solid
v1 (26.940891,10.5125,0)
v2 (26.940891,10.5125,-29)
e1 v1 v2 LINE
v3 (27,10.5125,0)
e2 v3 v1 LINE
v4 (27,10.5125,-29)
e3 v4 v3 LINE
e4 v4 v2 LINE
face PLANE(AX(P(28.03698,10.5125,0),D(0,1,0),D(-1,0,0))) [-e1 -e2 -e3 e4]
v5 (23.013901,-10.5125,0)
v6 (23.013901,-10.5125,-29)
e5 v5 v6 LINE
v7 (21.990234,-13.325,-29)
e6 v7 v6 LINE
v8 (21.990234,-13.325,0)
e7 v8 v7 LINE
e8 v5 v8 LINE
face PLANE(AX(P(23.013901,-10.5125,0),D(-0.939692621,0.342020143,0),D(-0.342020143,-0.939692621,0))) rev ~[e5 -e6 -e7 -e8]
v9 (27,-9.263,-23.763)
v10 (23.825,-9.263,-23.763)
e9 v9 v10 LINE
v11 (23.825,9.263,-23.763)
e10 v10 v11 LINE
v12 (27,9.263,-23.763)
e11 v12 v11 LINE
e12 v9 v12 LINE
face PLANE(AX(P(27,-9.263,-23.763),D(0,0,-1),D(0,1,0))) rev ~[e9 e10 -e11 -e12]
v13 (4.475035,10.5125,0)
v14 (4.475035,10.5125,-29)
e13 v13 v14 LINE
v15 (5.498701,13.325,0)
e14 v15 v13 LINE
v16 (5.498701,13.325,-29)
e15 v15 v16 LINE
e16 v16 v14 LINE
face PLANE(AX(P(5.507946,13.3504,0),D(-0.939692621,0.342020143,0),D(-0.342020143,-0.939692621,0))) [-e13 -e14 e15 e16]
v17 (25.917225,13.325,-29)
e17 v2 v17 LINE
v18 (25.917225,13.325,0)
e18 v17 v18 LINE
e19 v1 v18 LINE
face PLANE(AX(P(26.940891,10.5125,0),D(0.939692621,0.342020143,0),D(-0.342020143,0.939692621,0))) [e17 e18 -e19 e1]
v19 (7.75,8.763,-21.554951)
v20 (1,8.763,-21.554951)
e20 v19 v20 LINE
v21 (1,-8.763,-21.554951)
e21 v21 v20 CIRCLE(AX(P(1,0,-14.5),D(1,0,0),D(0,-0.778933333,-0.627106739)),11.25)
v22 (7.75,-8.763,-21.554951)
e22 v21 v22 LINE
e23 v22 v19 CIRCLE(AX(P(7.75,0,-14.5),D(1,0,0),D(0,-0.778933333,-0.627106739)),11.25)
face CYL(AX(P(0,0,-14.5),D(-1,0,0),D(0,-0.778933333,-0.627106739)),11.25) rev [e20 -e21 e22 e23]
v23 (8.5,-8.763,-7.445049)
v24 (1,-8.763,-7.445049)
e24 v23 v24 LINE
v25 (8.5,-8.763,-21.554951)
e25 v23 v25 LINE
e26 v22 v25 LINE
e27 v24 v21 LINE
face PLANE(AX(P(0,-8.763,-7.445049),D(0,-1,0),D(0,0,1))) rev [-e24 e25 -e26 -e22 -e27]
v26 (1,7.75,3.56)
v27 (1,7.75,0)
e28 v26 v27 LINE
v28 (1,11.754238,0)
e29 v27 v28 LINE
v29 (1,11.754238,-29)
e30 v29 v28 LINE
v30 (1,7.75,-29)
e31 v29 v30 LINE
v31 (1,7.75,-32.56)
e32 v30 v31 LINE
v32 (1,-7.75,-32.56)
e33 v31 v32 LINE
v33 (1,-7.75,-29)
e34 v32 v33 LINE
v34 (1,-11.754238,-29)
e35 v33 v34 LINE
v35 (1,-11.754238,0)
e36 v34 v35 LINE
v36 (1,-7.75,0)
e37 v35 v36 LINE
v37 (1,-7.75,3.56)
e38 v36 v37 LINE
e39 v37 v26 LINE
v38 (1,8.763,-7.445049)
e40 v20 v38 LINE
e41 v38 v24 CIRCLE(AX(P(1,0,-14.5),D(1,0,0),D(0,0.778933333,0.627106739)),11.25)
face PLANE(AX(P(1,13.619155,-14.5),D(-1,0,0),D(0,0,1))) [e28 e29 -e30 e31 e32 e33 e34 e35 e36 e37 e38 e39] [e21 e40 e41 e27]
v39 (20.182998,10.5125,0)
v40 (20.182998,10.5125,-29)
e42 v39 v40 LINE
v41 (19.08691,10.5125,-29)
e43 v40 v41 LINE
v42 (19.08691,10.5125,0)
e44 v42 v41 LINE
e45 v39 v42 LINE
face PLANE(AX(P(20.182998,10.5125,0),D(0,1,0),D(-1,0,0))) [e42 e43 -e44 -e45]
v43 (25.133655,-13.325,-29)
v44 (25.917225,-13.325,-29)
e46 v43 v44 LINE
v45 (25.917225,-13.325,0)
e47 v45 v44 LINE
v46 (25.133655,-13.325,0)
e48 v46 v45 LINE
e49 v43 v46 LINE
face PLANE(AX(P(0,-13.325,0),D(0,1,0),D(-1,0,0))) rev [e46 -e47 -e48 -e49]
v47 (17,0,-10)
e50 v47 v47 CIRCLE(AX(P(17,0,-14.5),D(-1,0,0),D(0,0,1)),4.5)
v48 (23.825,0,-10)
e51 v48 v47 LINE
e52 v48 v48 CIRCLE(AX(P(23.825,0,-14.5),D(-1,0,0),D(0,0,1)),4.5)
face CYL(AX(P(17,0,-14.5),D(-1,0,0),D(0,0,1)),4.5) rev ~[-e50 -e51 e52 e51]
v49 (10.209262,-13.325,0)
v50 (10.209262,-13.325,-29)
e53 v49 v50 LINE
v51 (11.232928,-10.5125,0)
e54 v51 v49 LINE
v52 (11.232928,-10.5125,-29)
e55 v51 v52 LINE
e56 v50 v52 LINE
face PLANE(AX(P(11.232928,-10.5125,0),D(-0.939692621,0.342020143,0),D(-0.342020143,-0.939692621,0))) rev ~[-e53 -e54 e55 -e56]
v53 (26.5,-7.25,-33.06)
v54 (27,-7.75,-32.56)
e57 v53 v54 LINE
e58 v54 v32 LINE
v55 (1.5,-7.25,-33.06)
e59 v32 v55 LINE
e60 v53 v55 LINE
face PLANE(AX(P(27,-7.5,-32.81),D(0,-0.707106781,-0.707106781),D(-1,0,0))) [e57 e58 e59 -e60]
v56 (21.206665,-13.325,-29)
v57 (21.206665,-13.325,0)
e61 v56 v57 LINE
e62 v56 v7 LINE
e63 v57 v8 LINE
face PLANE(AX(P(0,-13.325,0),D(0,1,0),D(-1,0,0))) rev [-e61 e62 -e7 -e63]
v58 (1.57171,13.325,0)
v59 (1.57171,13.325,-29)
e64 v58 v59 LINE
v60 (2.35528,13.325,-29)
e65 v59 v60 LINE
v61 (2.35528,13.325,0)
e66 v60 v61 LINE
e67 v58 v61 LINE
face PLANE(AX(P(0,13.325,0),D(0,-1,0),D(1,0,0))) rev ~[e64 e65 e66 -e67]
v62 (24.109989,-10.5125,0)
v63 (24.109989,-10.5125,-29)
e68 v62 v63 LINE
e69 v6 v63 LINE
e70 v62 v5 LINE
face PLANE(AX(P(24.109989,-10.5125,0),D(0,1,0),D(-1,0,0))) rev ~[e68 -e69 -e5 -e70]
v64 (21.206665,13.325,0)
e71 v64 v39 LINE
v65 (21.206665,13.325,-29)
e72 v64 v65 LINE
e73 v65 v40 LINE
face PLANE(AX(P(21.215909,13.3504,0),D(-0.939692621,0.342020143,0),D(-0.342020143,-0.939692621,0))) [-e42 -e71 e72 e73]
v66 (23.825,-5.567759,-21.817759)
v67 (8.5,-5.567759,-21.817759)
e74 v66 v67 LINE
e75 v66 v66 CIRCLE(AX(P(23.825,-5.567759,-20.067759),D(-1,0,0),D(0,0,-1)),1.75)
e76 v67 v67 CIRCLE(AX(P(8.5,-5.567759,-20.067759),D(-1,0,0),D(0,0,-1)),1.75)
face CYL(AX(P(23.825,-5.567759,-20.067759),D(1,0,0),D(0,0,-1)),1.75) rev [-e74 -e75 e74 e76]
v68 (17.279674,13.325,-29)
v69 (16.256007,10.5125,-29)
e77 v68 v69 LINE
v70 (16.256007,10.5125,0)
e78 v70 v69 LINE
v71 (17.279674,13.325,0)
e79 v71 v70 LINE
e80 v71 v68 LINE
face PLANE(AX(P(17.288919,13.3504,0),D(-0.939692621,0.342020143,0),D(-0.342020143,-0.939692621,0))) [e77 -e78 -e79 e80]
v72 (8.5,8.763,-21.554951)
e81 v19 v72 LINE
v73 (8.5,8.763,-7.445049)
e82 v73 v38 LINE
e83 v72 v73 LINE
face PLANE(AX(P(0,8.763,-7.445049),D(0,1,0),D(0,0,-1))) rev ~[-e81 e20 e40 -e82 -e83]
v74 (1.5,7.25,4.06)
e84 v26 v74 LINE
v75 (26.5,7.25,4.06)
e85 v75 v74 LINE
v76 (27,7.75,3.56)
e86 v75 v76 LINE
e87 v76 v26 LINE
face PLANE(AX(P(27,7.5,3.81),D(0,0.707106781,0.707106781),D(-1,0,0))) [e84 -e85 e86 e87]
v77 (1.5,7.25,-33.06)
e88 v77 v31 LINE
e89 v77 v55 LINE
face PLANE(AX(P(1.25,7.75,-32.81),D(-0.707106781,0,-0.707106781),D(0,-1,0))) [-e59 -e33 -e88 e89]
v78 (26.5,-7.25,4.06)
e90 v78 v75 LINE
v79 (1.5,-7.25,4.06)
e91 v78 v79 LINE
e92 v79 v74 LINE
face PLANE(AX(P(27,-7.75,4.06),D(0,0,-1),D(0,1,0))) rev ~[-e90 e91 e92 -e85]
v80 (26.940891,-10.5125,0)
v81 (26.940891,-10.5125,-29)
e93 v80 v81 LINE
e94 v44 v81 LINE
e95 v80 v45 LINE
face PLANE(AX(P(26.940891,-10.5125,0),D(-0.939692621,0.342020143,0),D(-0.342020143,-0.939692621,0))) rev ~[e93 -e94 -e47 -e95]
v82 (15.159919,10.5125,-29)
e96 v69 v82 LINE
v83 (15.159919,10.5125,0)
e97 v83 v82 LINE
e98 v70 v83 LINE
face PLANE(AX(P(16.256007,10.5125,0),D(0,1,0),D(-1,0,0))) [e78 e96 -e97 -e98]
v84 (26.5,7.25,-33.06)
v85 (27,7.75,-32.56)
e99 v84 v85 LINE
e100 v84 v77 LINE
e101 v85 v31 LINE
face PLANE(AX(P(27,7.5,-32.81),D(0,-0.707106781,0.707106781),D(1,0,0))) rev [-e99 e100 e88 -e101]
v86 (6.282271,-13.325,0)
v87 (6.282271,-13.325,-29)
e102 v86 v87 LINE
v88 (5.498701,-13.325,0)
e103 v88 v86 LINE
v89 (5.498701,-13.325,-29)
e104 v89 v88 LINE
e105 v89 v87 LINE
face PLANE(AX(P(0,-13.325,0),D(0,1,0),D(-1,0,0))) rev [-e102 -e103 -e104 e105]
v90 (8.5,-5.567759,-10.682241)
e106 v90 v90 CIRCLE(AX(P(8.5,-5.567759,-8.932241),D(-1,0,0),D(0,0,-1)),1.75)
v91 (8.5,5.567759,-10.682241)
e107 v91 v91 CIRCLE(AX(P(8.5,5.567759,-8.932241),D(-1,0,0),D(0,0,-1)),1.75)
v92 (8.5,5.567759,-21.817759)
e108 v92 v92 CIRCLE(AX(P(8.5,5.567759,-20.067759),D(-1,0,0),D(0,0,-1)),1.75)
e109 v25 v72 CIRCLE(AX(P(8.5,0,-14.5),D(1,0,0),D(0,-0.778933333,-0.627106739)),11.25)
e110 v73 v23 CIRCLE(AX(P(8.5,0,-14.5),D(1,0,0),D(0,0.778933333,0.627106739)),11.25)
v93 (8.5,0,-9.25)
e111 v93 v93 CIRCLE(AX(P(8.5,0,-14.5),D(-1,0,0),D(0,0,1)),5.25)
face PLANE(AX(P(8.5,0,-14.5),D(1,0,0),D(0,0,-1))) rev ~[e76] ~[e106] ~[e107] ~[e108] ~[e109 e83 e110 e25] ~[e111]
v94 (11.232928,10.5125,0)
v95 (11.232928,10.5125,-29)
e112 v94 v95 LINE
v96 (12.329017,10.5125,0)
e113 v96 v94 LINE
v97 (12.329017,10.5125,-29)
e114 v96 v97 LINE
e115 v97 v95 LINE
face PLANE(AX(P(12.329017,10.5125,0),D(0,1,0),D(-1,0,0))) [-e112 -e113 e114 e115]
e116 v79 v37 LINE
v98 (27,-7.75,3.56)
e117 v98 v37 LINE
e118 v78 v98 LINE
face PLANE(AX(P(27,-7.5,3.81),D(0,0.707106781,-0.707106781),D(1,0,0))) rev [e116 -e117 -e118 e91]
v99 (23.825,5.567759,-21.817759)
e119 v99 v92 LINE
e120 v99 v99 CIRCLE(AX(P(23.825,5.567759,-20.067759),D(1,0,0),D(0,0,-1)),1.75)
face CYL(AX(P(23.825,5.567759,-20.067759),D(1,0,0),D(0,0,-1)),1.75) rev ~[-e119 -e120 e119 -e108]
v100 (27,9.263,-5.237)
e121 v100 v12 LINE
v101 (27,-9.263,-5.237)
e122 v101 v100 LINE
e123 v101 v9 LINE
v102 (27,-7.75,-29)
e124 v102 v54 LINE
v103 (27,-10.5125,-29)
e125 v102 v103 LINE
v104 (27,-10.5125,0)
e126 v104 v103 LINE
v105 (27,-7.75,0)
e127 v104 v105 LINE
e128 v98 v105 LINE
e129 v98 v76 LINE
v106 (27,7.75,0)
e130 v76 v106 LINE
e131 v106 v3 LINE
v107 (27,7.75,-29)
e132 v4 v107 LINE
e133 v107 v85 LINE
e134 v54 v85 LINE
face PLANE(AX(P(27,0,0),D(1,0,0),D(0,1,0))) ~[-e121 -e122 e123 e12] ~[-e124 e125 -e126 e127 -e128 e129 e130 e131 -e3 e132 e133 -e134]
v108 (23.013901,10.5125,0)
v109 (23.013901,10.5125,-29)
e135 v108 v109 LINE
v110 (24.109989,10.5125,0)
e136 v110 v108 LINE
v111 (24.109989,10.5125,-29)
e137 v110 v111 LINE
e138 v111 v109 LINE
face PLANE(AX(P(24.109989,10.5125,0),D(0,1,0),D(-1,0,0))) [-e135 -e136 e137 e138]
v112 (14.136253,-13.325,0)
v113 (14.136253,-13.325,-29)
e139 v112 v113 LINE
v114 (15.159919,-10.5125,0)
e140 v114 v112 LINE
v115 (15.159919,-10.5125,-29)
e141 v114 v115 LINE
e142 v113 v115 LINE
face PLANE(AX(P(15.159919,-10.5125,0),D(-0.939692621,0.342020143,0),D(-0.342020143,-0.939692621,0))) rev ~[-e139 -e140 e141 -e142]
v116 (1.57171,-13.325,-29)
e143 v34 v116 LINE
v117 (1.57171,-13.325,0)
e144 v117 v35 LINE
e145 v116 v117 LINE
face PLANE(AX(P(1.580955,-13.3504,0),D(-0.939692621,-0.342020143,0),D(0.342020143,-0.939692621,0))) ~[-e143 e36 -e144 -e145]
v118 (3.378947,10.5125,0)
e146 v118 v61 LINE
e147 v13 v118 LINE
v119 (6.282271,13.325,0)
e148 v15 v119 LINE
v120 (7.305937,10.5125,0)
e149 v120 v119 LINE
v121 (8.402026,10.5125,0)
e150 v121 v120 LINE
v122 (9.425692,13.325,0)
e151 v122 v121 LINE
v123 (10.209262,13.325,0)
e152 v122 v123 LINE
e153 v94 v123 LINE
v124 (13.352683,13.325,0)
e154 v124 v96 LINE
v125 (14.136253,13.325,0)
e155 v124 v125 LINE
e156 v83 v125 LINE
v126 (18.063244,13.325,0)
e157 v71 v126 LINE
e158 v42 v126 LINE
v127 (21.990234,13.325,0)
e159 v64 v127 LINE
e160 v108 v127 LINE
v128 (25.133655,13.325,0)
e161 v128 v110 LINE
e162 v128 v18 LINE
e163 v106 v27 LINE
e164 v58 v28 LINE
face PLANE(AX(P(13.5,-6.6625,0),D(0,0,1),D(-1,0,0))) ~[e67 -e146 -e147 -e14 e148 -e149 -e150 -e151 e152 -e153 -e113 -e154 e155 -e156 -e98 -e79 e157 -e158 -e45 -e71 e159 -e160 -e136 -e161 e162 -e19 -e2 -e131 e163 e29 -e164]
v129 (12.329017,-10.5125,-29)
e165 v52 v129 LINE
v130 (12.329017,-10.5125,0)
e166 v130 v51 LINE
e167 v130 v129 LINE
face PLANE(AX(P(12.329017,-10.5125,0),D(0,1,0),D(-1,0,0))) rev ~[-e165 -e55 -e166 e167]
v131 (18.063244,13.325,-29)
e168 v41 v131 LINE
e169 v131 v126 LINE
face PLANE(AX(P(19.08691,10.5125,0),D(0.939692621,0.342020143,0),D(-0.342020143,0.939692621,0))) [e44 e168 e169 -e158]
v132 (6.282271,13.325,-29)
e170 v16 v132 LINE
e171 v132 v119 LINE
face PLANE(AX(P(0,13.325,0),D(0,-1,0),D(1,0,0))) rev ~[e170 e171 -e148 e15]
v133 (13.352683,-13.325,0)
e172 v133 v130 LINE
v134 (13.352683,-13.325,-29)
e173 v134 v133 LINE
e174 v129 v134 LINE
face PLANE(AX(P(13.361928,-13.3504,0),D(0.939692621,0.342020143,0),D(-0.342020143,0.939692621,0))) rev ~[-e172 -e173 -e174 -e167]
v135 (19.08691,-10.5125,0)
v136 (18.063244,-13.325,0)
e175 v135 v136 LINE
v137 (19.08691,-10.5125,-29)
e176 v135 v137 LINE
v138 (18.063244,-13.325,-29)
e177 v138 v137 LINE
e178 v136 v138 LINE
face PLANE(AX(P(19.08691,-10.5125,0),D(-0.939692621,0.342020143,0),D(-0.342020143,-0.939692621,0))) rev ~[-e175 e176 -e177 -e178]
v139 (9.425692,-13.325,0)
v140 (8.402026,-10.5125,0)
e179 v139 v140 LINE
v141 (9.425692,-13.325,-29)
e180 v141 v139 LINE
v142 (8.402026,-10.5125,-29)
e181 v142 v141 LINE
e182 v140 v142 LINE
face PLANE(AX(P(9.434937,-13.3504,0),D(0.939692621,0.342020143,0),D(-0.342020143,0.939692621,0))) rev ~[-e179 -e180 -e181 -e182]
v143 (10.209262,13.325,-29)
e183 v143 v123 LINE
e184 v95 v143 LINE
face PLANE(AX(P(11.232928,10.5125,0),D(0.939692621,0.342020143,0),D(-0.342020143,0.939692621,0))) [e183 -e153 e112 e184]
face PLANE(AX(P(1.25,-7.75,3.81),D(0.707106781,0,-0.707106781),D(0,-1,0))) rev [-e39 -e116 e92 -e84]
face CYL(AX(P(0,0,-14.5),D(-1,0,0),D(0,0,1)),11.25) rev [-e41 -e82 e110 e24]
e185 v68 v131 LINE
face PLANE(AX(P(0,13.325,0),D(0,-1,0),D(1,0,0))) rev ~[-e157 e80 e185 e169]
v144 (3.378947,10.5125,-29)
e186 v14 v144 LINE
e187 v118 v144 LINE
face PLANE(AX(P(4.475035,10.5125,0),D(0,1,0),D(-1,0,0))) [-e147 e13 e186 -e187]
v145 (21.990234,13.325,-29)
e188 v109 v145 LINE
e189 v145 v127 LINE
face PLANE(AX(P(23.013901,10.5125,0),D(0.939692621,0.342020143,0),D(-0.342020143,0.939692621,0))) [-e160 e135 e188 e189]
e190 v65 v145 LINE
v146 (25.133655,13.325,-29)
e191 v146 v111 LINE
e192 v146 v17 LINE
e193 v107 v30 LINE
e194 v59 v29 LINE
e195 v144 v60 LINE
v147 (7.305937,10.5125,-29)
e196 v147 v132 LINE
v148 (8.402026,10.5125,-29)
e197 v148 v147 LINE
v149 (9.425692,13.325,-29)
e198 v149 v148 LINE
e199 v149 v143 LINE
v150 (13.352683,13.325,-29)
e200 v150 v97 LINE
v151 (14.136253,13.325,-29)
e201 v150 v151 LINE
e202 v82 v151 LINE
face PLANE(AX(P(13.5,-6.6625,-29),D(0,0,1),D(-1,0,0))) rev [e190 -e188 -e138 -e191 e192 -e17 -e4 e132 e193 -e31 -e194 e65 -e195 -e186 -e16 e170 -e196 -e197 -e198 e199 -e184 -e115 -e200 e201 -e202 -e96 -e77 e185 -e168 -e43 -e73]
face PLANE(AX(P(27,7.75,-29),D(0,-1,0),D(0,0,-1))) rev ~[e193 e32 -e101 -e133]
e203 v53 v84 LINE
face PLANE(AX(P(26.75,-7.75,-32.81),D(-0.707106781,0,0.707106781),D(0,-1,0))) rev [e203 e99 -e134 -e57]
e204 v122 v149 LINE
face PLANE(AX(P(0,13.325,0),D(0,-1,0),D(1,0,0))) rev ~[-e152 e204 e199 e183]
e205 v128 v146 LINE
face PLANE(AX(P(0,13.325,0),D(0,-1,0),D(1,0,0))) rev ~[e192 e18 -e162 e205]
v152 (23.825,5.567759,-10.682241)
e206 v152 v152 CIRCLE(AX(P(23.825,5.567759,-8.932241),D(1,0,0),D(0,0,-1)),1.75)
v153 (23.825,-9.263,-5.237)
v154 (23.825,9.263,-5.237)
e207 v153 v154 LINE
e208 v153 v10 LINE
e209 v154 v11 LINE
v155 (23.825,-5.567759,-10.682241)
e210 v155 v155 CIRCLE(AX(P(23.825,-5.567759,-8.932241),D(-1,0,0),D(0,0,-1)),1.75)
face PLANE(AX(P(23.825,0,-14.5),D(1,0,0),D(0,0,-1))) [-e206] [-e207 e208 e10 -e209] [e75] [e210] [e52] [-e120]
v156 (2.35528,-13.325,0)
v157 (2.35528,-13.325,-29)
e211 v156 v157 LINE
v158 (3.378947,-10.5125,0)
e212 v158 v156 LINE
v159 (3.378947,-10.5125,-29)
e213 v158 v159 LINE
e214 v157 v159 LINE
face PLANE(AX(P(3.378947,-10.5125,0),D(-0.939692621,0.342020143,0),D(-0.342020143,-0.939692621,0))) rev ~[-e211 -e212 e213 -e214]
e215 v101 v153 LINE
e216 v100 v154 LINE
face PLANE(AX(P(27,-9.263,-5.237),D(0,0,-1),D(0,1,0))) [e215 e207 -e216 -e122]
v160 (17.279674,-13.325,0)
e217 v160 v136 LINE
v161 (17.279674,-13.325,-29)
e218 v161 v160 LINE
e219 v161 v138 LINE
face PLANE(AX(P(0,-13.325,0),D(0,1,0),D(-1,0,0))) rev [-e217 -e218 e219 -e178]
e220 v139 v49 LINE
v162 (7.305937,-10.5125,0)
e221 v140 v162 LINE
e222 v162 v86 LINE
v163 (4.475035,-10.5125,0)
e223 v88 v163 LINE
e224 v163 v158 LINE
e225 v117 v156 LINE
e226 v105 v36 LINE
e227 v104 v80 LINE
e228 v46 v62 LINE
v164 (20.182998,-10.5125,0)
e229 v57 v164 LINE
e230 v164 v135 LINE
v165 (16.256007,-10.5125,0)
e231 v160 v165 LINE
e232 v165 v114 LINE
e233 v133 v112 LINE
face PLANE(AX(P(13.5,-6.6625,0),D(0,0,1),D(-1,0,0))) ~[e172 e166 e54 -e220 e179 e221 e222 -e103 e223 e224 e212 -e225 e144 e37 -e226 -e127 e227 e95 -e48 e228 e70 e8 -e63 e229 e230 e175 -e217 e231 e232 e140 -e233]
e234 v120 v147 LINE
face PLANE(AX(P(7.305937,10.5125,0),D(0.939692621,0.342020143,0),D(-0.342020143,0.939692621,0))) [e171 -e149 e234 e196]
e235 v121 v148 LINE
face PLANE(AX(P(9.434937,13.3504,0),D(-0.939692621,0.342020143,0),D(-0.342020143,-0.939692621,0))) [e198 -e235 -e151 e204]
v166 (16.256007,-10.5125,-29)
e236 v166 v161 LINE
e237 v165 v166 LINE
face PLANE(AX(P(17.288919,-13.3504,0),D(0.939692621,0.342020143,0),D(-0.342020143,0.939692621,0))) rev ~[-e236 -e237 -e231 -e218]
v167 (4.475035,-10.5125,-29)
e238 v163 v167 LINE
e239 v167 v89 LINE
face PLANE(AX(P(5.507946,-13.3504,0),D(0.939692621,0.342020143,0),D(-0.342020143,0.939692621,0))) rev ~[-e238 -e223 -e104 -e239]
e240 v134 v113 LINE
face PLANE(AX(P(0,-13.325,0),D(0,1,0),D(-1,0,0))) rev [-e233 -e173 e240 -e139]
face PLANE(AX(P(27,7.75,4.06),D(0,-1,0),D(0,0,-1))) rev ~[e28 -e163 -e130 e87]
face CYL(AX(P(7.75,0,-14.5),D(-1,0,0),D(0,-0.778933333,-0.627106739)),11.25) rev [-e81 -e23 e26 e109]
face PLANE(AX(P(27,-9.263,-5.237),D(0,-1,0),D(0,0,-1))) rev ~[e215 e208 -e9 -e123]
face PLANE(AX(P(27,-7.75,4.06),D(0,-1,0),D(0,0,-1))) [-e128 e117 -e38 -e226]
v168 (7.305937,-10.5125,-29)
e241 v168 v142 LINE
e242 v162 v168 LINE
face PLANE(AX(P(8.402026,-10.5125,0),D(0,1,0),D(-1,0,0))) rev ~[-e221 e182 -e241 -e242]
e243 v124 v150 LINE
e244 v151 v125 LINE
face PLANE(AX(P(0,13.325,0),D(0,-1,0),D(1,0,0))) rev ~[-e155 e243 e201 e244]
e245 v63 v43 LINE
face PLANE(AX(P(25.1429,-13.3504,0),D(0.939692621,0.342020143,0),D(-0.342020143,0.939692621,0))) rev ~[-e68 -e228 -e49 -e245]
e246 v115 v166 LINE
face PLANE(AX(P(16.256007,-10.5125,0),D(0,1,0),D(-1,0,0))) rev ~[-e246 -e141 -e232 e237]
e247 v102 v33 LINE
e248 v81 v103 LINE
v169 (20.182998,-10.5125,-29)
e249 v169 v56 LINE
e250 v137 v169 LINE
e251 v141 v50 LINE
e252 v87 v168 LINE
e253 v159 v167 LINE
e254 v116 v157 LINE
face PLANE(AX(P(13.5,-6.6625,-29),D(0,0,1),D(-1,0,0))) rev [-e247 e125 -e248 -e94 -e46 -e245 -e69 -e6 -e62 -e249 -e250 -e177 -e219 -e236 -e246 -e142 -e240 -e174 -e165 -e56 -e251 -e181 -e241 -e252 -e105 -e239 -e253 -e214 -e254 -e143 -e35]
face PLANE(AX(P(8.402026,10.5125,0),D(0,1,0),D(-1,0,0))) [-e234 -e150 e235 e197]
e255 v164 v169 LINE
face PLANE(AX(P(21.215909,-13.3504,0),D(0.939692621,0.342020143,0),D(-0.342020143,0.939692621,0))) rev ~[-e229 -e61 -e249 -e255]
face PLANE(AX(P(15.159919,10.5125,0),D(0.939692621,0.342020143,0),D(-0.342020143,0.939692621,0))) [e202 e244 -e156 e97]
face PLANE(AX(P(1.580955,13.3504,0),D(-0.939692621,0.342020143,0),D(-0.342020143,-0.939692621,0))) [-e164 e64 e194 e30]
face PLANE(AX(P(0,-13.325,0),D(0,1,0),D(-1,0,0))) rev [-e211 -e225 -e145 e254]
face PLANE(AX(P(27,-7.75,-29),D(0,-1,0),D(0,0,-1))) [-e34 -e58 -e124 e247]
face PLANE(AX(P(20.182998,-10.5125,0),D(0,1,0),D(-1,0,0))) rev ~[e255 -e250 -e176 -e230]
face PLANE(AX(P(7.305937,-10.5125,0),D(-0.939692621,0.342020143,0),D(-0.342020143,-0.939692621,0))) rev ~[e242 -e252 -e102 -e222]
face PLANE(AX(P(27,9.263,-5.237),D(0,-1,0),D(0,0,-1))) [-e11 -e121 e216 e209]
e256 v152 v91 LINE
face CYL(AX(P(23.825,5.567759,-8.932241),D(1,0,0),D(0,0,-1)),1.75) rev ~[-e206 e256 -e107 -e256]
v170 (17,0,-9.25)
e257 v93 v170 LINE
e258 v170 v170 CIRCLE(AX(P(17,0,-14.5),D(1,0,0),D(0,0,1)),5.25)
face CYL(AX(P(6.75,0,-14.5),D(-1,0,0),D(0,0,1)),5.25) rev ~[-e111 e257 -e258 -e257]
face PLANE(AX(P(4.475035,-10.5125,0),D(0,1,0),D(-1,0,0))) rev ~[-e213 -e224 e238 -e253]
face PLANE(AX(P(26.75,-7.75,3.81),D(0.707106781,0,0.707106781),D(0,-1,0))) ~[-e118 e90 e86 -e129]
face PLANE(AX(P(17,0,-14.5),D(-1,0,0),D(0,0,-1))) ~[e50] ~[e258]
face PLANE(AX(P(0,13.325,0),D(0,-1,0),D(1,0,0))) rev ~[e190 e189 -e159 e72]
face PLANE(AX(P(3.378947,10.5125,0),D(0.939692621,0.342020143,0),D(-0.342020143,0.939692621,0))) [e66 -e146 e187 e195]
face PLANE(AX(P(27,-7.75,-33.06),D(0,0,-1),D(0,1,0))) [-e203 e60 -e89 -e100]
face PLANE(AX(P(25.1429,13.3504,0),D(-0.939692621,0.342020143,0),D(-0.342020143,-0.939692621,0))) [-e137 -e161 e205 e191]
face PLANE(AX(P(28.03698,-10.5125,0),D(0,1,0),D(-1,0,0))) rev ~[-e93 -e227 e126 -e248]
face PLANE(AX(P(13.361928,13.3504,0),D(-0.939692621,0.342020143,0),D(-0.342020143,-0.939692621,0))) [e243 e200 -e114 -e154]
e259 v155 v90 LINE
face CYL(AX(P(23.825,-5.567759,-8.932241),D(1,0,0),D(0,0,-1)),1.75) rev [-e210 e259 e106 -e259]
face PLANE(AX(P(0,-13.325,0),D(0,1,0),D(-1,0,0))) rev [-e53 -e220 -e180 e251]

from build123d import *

# Parameters (mm, degrees)
BLANKSKE_W           = 27
BLANKSKE_H           = 13.325
BLANK_DEPTH          = 29
TOOTHCUTSIM_DEPTH    = 42.803775248
TEETHCUTS_COUNT      = 8
TEETHCUTS_PITCH      = 3.926990813
CUT_EXTRUDE1_DEPTH   = 6.75
SKETCH3_R            = 5.25
CUT_EXTRUDE2_DEPTH   = 10.25
SKETCH4_R            = 4.5
CUT_EXTRUDE3_DEPTH   = 37.16013862
SKETCH5_R            = 2.5
CUT_EXTRUDE4_DEPTH   = 3.175
SKETCH6_R            = 1.75
CUT_EXTRUDE5_DEPTH   = 40.826953813
MIRROR1_COPY_1_DEPTH = 42.803775248
MIRROR1_COPY_2_DEPTH = 42.803775248
MIRROR1_COPY_3_DEPTH = 42.803775248
MIRROR1_COPY_4_DEPTH = 42.803775248
MIRROR1_COPY_5_DEPTH = 42.803775248
MIRROR1_COPY_6_DEPTH = 42.803775248
MIRROR1_COPY_7_DEPTH = 42.803775248
SKETCH9_W            = 18.526
SKETCH9_H            = 18.526
CUT_EXTRUDE6_DEPTH   = 3.175
SKETCH10_W           = 4.06
SKETCH10_H           = 15.5
BOSS_EXTRUDE2_DEPTH  = 27
SKETCH12_W           = 29
SKETCH12_H           = 6.213309413
SKETCH12_H_2         = 5.066323004
CUT_EXTRUDE7_DEPTH   = 1
SKETCH12_10_R        = 5.25
SKETCH12_10_R_2      = 1.75
CUT_EXTRUDE8_DEPTH   = 7.75
CUT_EXTRUDE9_START   = -7.75
SKETCH12_11_R        = 5.25
SKETCH12_11_R_2      = 1.75
CUT_EXTRUDE9_DEPTH   = 0.75
CHAMFER1_SIZE        = 0.5


with BuildPart() as part:
    # BlankSke → Blank (new body)
    with BuildSketch(Plane.XY):
        with Locations((13.5, 6.6625)):
            Rectangle(BLANKSKE_W, BLANKSKE_H)
    blank = extrude(amount=-BLANK_DEPTH)

    # TooCutSkeSim → ToothCutSim (cut, through all)
    with BuildSketch(Plane.XY):
        Polygon((0.548044212, 10.5125), (-0.548044212, 10.5125), (-1.58095534, 13.3504), (1.58095534, 13.3504), align=None)
    toothcutsim = extrude(amount=-TOOTHCUTSIM_DEPTH, mode=Mode.SUBTRACT)

    # TeethCuts: ToothCutSim ×8
    with Locations(*[(i * TEETHCUTS_PITCH, 0, 0) for i in range(1, TEETHCUTS_COUNT)]):
        add(toothcutsim, mode=Mode.SUBTRACT)

    # Sketch2 → Cut-Extrude1 (cut)
    with BuildSketch(Plane.ZY):
        with BuildLine():
            Line((-7.445049185, 8.763), (-21.554950815, 8.763))
            ThreePointArc((-21.554950815, 8.763), (-24.647184256, 4.857689952), (-25.75, 0))
            Line((-25.75, 0), (-3.25, 0))
            ThreePointArc((-3.25, 0), (-4.352815744, 4.857689952), (-7.445049185, 8.763))
        make_face()
    cut_extrude1 = extrude(amount=-CUT_EXTRUDE1_DEPTH, mode=Mode.SUBTRACT)

    # Sketch3 → Cut-Extrude2 (cut)
    with BuildSketch(Plane.ZY.offset(-6.75)):
        with Locations((-14.5, 0)):
            Circle(SKETCH3_R)
    cut_extrude2 = extrude(amount=-CUT_EXTRUDE2_DEPTH, mode=Mode.SUBTRACT)

    # Sketch4 → Cut-Extrude3 (cut, symmetric)
    with BuildSketch(Plane.ZY.offset(-17)):
        with Locations((-14.5, 0)):
            Circle(SKETCH4_R)
    cut_extrude3 = extrude(amount=CUT_EXTRUDE3_DEPTH, both=True, mode=Mode.SUBTRACT)

    # Sketch5 → Cut-Extrude4 (cut)
    with BuildSketch(Plane(origin=(27, 0, 0), x_dir=(0, 0, -1), z_dir=(1, 0, 0))):
        with Locations((8.932241205, 5.567758795)):
            Circle(SKETCH5_R)
        with Locations((20.067758795, 5.567758795)):
            Circle(SKETCH5_R)
    cut_extrude4 = extrude(amount=-CUT_EXTRUDE4_DEPTH, mode=Mode.SUBTRACT)

    # Sketch6 → Cut-Extrude5 (cut, through all)
    with BuildSketch(Plane(origin=(23.825, 0, 0), x_dir=(0, 0, -1), z_dir=(1, 0, 0))):
        with Locations((20.067758795, 5.567758795)):
            Circle(SKETCH6_R)
        with Locations((8.932241205, 5.567758795)):
            Circle(SKETCH6_R)
    cut_extrude5 = extrude(amount=-CUT_EXTRUDE5_DEPTH, mode=Mode.SUBTRACT)

    # Mirror1: Blank, ToothCutSim, Cut-Extrude1, Cut-Extrude2, Cut-Extrude3, Cut-Extrude4, Cut-Extrude5 across plane
    add(blank.mirror(Plane(origin=(0, 0, -29), x_dir=(0, 0, 1), z_dir=(0, -1, 0))))
    add(toothcutsim.mirror(Plane(origin=(0, 0, -29), x_dir=(0, 0, 1), z_dir=(0, -1, 0))), mode=Mode.SUBTRACT)
    add(cut_extrude1.mirror(Plane(origin=(0, 0, -29), x_dir=(0, 0, 1), z_dir=(0, -1, 0))), mode=Mode.SUBTRACT)
    add(cut_extrude2.mirror(Plane(origin=(0, 0, -29), x_dir=(0, 0, 1), z_dir=(0, -1, 0))), mode=Mode.SUBTRACT)
    add(cut_extrude3.mirror(Plane(origin=(0, 0, -29), x_dir=(0, 0, 1), z_dir=(0, -1, 0))), mode=Mode.SUBTRACT)
    add(cut_extrude4.mirror(Plane(origin=(0, 0, -29), x_dir=(0, 0, 1), z_dir=(0, -1, 0))), mode=Mode.SUBTRACT)
    add(cut_extrude5.mirror(Plane(origin=(0, 0, -29), x_dir=(0, 0, 1), z_dir=(0, -1, 0))), mode=Mode.SUBTRACT)

    # Mirror1 copy 1 sketch → Mirror1 copy 1 (cut, through all)
    with BuildSketch(Plane(origin=(3.926990813, 0, 0), x_dir=(1, 0, 0), z_dir=(0, 0, 1))):
        Polygon((0.548044212, -10.5125), (-0.548044212, -10.5125), (-1.58095534, -13.3504), (1.58095534, -13.3504), align=None)
    extrude(amount=-MIRROR1_COPY_1_DEPTH, mode=Mode.SUBTRACT)

    # Mirror1 copy 2 sketch → Mirror1 copy 2 (cut, through all)
    with BuildSketch(Plane(origin=(7.853981625, 0, 0), x_dir=(1, 0, 0), z_dir=(0, 0, 1))):
        Polygon((0.548044212, -10.5125), (-0.548044212, -10.5125), (-1.58095534, -13.3504), (1.58095534, -13.3504), align=None)
    extrude(amount=-MIRROR1_COPY_2_DEPTH, mode=Mode.SUBTRACT)

    # Mirror1 copy 3 sketch → Mirror1 copy 3 (cut, through all)
    with BuildSketch(Plane(origin=(11.780972438, 0, 0), x_dir=(1, 0, 0), z_dir=(0, 0, 1))):
        Polygon((0.548044212, -10.5125), (-0.548044212, -10.5125), (-1.58095534, -13.3504), (1.58095534, -13.3504), align=None)
    extrude(amount=-MIRROR1_COPY_3_DEPTH, mode=Mode.SUBTRACT)

    # Mirror1 copy 4 sketch → Mirror1 copy 4 (cut, through all)
    with BuildSketch(Plane(origin=(15.70796325, 0, 0), x_dir=(1, 0, 0), z_dir=(0, 0, 1))):
        Polygon((0.548044212, -10.5125), (-0.548044212, -10.5125), (-1.58095534, -13.3504), (1.58095534, -13.3504), align=None)
    extrude(amount=-MIRROR1_COPY_4_DEPTH, mode=Mode.SUBTRACT)

    # Mirror1 copy 5 sketch → Mirror1 copy 5 (cut, through all)
    with BuildSketch(Plane(origin=(19.634954063, 0, 0), x_dir=(1, 0, 0), z_dir=(0, 0, 1))):
        Polygon((0.548044212, -10.5125), (-0.548044212, -10.5125), (-1.58095534, -13.3504), (1.58095534, -13.3504), align=None)
    extrude(amount=-MIRROR1_COPY_5_DEPTH, mode=Mode.SUBTRACT)

    # Mirror1 copy 6 sketch → Mirror1 copy 6 (cut, through all)
    with BuildSketch(Plane(origin=(23.561944875, 0, 0), x_dir=(1, 0, 0), z_dir=(0, 0, 1))):
        Polygon((0.548044212, -10.5125), (-0.548044212, -10.5125), (-1.58095534, -13.3504), (1.58095534, -13.3504), align=None)
    extrude(amount=-MIRROR1_COPY_6_DEPTH, mode=Mode.SUBTRACT)

    # Mirror1 copy 7 sketch → Mirror1 copy 7 (cut, through all)
    with BuildSketch(Plane(origin=(27.488935688, 0, 0), x_dir=(1, 0, 0), z_dir=(0, 0, 1))):
        Polygon((0.548044212, -10.5125), (-0.548044212, -10.5125), (-1.58095534, -13.3504), (1.58095534, -13.3504), align=None)
    extrude(amount=-MIRROR1_COPY_7_DEPTH, mode=Mode.SUBTRACT)

    # Sketch9 → Cut-Extrude6 (cut)
    with BuildSketch(Plane(origin=(27, 0, 0), x_dir=(0, 0, -1), z_dir=(1, 0, 0))):
        with Locations((14.5, 0)):
            Rectangle(SKETCH9_W, SKETCH9_H)
    extrude(amount=-CUT_EXTRUDE6_DEPTH, mode=Mode.SUBTRACT)

    # Sketch10 → Boss-Extrude2 (add, through all)
    with BuildSketch(Plane(origin=(27, 0, 0), x_dir=(0, 0, -1), z_dir=(1, 0, 0))):
        with Locations((31.03, 0)):
            Rectangle(SKETCH10_W, SKETCH10_H)
        with Locations((-2.03, 0)):
            Rectangle(SKETCH10_W, SKETCH10_H)
    extrude(amount=-BOSS_EXTRUDE2_DEPTH)

    # Sketch12 → Cut-Extrude7 (cut)
    with BuildSketch(Plane.ZY):
        with Locations((-14.5, 13.619154707)):
            Rectangle(SKETCH12_W, SKETCH12_H)
        Polygon((0, 10.5125), (-29, 10.5125), (-29, 7.75), (-33.06, 7.75), (-33.06, -7.75), (-29, -7.75), (-29, -10.5125), (0, -10.5125), (0, -7.75), (4.06, -7.75), (4.06, 7.75), (0, 7.75), align=None)
        with BuildLine():
            Line((-21.554950815, 8.763), (-7.445049185, 8.763))
            ThreePointArc((-7.445049185, 8.763), (-3.25, 0), (-7.445049185, -8.763))
            Line((-7.445049185, -8.763), (-21.554950815, -8.763))
            ThreePointArc((-21.554950815, -8.763), (-25.75, 0), (-21.554950815, 8.763))
        make_face(mode=Mode.SUBTRACT)
        with Locations((-14.5, -13.045661502)):
            Rectangle(SKETCH12_W, SKETCH12_H_2)
    extrude(amount=-CUT_EXTRUDE7_DEPTH, mode=Mode.SUBTRACT)

    # Sketch12<10> → Cut-Extrude8 (cut)
    with BuildSketch(Plane.ZY):
        with BuildLine():
            ThreePointArc((-7.445049185, 8.763), (-3.25, 0), (-7.445049185, -8.763))
            Line((-7.445049185, -8.763), (-21.554950815, -8.763))
            ThreePointArc((-21.554950815, -8.763), (-25.75, 0), (-21.554950815, 8.763))
            Line((-21.554950815, 8.763), (-7.445049185, 8.763))
        make_face()
        with Locations((-14.5, 0)):
            Circle(SKETCH12_10_R, mode=Mode.SUBTRACT)
        with Locations(Location((-20.067758795, -5.567758795, 0), (0, 0, 180))):
            Circle(SKETCH12_10_R_2, mode=Mode.SUBTRACT)
        with Locations(Location((-8.932241205, -5.567758795, 0), (0, 0, 180))):
            Circle(SKETCH12_10_R_2, mode=Mode.SUBTRACT)
        with Locations(Location((-8.932241205, 5.567758795, 0), (0, 0, 180))):
            Circle(SKETCH12_10_R_2, mode=Mode.SUBTRACT)
        with Locations(Location((-20.067758795, 5.567758795, 0), (0, 0, 180))):
            Circle(SKETCH12_10_R_2, mode=Mode.SUBTRACT)
    extrude(amount=-CUT_EXTRUDE8_DEPTH, mode=Mode.SUBTRACT)

    # Sketch12<11> → Cut-Extrude9 (cut)
    with BuildSketch(Plane.ZY.offset(CUT_EXTRUDE9_START)):
        with BuildLine():
            ThreePointArc((-7.445049185, 8.763), (-3.25, 0), (-7.445049185, -8.763))
            Line((-7.445049185, -8.763), (-21.554950815, -8.763))
            ThreePointArc((-21.554950815, -8.763), (-25.75, 0), (-21.554950815, 8.763))
            Line((-21.554950815, 8.763), (-7.445049185, 8.763))
        make_face()
        with Locations((-14.5, 0)):
            Circle(SKETCH12_11_R, mode=Mode.SUBTRACT)
        with Locations(Location((-20.067758795, -5.567758795, 0), (0, 0, 180))):
            Circle(SKETCH12_11_R_2, mode=Mode.SUBTRACT)
        with Locations(Location((-8.932241205, -5.567758795, 0), (0, 0, 180))):
            Circle(SKETCH12_11_R_2, mode=Mode.SUBTRACT)
        with Locations(Location((-8.932241205, 5.567758795, 0), (0, 0, 180))):
            Circle(SKETCH12_11_R_2, mode=Mode.SUBTRACT)
        with Locations(Location((-20.067758795, 5.567758795, 0), (0, 0, 180))):
            Circle(SKETCH12_11_R_2, mode=Mode.SUBTRACT)
    extrude(amount=-CUT_EXTRUDE9_DEPTH, mode=Mode.SUBTRACT)

    # Chamfer1
    chamfer1_edges = [part.edges().sort_by_distance(p)[0] for p in [
        (27, 0, -33.06),
        (27, 0, 4.06),
        (14, 7.75, 4.06),
        (14, -7.75, 4.06),
        (14, -7.75, -33.06),
        (14, 7.75, -33.06),
        (1, 0, -33.06),
        (1, 0, 4.06),
    ]]
    chamfer(chamfer1_edges, length=CHAMFER1_SIZE)


solid = part.part
